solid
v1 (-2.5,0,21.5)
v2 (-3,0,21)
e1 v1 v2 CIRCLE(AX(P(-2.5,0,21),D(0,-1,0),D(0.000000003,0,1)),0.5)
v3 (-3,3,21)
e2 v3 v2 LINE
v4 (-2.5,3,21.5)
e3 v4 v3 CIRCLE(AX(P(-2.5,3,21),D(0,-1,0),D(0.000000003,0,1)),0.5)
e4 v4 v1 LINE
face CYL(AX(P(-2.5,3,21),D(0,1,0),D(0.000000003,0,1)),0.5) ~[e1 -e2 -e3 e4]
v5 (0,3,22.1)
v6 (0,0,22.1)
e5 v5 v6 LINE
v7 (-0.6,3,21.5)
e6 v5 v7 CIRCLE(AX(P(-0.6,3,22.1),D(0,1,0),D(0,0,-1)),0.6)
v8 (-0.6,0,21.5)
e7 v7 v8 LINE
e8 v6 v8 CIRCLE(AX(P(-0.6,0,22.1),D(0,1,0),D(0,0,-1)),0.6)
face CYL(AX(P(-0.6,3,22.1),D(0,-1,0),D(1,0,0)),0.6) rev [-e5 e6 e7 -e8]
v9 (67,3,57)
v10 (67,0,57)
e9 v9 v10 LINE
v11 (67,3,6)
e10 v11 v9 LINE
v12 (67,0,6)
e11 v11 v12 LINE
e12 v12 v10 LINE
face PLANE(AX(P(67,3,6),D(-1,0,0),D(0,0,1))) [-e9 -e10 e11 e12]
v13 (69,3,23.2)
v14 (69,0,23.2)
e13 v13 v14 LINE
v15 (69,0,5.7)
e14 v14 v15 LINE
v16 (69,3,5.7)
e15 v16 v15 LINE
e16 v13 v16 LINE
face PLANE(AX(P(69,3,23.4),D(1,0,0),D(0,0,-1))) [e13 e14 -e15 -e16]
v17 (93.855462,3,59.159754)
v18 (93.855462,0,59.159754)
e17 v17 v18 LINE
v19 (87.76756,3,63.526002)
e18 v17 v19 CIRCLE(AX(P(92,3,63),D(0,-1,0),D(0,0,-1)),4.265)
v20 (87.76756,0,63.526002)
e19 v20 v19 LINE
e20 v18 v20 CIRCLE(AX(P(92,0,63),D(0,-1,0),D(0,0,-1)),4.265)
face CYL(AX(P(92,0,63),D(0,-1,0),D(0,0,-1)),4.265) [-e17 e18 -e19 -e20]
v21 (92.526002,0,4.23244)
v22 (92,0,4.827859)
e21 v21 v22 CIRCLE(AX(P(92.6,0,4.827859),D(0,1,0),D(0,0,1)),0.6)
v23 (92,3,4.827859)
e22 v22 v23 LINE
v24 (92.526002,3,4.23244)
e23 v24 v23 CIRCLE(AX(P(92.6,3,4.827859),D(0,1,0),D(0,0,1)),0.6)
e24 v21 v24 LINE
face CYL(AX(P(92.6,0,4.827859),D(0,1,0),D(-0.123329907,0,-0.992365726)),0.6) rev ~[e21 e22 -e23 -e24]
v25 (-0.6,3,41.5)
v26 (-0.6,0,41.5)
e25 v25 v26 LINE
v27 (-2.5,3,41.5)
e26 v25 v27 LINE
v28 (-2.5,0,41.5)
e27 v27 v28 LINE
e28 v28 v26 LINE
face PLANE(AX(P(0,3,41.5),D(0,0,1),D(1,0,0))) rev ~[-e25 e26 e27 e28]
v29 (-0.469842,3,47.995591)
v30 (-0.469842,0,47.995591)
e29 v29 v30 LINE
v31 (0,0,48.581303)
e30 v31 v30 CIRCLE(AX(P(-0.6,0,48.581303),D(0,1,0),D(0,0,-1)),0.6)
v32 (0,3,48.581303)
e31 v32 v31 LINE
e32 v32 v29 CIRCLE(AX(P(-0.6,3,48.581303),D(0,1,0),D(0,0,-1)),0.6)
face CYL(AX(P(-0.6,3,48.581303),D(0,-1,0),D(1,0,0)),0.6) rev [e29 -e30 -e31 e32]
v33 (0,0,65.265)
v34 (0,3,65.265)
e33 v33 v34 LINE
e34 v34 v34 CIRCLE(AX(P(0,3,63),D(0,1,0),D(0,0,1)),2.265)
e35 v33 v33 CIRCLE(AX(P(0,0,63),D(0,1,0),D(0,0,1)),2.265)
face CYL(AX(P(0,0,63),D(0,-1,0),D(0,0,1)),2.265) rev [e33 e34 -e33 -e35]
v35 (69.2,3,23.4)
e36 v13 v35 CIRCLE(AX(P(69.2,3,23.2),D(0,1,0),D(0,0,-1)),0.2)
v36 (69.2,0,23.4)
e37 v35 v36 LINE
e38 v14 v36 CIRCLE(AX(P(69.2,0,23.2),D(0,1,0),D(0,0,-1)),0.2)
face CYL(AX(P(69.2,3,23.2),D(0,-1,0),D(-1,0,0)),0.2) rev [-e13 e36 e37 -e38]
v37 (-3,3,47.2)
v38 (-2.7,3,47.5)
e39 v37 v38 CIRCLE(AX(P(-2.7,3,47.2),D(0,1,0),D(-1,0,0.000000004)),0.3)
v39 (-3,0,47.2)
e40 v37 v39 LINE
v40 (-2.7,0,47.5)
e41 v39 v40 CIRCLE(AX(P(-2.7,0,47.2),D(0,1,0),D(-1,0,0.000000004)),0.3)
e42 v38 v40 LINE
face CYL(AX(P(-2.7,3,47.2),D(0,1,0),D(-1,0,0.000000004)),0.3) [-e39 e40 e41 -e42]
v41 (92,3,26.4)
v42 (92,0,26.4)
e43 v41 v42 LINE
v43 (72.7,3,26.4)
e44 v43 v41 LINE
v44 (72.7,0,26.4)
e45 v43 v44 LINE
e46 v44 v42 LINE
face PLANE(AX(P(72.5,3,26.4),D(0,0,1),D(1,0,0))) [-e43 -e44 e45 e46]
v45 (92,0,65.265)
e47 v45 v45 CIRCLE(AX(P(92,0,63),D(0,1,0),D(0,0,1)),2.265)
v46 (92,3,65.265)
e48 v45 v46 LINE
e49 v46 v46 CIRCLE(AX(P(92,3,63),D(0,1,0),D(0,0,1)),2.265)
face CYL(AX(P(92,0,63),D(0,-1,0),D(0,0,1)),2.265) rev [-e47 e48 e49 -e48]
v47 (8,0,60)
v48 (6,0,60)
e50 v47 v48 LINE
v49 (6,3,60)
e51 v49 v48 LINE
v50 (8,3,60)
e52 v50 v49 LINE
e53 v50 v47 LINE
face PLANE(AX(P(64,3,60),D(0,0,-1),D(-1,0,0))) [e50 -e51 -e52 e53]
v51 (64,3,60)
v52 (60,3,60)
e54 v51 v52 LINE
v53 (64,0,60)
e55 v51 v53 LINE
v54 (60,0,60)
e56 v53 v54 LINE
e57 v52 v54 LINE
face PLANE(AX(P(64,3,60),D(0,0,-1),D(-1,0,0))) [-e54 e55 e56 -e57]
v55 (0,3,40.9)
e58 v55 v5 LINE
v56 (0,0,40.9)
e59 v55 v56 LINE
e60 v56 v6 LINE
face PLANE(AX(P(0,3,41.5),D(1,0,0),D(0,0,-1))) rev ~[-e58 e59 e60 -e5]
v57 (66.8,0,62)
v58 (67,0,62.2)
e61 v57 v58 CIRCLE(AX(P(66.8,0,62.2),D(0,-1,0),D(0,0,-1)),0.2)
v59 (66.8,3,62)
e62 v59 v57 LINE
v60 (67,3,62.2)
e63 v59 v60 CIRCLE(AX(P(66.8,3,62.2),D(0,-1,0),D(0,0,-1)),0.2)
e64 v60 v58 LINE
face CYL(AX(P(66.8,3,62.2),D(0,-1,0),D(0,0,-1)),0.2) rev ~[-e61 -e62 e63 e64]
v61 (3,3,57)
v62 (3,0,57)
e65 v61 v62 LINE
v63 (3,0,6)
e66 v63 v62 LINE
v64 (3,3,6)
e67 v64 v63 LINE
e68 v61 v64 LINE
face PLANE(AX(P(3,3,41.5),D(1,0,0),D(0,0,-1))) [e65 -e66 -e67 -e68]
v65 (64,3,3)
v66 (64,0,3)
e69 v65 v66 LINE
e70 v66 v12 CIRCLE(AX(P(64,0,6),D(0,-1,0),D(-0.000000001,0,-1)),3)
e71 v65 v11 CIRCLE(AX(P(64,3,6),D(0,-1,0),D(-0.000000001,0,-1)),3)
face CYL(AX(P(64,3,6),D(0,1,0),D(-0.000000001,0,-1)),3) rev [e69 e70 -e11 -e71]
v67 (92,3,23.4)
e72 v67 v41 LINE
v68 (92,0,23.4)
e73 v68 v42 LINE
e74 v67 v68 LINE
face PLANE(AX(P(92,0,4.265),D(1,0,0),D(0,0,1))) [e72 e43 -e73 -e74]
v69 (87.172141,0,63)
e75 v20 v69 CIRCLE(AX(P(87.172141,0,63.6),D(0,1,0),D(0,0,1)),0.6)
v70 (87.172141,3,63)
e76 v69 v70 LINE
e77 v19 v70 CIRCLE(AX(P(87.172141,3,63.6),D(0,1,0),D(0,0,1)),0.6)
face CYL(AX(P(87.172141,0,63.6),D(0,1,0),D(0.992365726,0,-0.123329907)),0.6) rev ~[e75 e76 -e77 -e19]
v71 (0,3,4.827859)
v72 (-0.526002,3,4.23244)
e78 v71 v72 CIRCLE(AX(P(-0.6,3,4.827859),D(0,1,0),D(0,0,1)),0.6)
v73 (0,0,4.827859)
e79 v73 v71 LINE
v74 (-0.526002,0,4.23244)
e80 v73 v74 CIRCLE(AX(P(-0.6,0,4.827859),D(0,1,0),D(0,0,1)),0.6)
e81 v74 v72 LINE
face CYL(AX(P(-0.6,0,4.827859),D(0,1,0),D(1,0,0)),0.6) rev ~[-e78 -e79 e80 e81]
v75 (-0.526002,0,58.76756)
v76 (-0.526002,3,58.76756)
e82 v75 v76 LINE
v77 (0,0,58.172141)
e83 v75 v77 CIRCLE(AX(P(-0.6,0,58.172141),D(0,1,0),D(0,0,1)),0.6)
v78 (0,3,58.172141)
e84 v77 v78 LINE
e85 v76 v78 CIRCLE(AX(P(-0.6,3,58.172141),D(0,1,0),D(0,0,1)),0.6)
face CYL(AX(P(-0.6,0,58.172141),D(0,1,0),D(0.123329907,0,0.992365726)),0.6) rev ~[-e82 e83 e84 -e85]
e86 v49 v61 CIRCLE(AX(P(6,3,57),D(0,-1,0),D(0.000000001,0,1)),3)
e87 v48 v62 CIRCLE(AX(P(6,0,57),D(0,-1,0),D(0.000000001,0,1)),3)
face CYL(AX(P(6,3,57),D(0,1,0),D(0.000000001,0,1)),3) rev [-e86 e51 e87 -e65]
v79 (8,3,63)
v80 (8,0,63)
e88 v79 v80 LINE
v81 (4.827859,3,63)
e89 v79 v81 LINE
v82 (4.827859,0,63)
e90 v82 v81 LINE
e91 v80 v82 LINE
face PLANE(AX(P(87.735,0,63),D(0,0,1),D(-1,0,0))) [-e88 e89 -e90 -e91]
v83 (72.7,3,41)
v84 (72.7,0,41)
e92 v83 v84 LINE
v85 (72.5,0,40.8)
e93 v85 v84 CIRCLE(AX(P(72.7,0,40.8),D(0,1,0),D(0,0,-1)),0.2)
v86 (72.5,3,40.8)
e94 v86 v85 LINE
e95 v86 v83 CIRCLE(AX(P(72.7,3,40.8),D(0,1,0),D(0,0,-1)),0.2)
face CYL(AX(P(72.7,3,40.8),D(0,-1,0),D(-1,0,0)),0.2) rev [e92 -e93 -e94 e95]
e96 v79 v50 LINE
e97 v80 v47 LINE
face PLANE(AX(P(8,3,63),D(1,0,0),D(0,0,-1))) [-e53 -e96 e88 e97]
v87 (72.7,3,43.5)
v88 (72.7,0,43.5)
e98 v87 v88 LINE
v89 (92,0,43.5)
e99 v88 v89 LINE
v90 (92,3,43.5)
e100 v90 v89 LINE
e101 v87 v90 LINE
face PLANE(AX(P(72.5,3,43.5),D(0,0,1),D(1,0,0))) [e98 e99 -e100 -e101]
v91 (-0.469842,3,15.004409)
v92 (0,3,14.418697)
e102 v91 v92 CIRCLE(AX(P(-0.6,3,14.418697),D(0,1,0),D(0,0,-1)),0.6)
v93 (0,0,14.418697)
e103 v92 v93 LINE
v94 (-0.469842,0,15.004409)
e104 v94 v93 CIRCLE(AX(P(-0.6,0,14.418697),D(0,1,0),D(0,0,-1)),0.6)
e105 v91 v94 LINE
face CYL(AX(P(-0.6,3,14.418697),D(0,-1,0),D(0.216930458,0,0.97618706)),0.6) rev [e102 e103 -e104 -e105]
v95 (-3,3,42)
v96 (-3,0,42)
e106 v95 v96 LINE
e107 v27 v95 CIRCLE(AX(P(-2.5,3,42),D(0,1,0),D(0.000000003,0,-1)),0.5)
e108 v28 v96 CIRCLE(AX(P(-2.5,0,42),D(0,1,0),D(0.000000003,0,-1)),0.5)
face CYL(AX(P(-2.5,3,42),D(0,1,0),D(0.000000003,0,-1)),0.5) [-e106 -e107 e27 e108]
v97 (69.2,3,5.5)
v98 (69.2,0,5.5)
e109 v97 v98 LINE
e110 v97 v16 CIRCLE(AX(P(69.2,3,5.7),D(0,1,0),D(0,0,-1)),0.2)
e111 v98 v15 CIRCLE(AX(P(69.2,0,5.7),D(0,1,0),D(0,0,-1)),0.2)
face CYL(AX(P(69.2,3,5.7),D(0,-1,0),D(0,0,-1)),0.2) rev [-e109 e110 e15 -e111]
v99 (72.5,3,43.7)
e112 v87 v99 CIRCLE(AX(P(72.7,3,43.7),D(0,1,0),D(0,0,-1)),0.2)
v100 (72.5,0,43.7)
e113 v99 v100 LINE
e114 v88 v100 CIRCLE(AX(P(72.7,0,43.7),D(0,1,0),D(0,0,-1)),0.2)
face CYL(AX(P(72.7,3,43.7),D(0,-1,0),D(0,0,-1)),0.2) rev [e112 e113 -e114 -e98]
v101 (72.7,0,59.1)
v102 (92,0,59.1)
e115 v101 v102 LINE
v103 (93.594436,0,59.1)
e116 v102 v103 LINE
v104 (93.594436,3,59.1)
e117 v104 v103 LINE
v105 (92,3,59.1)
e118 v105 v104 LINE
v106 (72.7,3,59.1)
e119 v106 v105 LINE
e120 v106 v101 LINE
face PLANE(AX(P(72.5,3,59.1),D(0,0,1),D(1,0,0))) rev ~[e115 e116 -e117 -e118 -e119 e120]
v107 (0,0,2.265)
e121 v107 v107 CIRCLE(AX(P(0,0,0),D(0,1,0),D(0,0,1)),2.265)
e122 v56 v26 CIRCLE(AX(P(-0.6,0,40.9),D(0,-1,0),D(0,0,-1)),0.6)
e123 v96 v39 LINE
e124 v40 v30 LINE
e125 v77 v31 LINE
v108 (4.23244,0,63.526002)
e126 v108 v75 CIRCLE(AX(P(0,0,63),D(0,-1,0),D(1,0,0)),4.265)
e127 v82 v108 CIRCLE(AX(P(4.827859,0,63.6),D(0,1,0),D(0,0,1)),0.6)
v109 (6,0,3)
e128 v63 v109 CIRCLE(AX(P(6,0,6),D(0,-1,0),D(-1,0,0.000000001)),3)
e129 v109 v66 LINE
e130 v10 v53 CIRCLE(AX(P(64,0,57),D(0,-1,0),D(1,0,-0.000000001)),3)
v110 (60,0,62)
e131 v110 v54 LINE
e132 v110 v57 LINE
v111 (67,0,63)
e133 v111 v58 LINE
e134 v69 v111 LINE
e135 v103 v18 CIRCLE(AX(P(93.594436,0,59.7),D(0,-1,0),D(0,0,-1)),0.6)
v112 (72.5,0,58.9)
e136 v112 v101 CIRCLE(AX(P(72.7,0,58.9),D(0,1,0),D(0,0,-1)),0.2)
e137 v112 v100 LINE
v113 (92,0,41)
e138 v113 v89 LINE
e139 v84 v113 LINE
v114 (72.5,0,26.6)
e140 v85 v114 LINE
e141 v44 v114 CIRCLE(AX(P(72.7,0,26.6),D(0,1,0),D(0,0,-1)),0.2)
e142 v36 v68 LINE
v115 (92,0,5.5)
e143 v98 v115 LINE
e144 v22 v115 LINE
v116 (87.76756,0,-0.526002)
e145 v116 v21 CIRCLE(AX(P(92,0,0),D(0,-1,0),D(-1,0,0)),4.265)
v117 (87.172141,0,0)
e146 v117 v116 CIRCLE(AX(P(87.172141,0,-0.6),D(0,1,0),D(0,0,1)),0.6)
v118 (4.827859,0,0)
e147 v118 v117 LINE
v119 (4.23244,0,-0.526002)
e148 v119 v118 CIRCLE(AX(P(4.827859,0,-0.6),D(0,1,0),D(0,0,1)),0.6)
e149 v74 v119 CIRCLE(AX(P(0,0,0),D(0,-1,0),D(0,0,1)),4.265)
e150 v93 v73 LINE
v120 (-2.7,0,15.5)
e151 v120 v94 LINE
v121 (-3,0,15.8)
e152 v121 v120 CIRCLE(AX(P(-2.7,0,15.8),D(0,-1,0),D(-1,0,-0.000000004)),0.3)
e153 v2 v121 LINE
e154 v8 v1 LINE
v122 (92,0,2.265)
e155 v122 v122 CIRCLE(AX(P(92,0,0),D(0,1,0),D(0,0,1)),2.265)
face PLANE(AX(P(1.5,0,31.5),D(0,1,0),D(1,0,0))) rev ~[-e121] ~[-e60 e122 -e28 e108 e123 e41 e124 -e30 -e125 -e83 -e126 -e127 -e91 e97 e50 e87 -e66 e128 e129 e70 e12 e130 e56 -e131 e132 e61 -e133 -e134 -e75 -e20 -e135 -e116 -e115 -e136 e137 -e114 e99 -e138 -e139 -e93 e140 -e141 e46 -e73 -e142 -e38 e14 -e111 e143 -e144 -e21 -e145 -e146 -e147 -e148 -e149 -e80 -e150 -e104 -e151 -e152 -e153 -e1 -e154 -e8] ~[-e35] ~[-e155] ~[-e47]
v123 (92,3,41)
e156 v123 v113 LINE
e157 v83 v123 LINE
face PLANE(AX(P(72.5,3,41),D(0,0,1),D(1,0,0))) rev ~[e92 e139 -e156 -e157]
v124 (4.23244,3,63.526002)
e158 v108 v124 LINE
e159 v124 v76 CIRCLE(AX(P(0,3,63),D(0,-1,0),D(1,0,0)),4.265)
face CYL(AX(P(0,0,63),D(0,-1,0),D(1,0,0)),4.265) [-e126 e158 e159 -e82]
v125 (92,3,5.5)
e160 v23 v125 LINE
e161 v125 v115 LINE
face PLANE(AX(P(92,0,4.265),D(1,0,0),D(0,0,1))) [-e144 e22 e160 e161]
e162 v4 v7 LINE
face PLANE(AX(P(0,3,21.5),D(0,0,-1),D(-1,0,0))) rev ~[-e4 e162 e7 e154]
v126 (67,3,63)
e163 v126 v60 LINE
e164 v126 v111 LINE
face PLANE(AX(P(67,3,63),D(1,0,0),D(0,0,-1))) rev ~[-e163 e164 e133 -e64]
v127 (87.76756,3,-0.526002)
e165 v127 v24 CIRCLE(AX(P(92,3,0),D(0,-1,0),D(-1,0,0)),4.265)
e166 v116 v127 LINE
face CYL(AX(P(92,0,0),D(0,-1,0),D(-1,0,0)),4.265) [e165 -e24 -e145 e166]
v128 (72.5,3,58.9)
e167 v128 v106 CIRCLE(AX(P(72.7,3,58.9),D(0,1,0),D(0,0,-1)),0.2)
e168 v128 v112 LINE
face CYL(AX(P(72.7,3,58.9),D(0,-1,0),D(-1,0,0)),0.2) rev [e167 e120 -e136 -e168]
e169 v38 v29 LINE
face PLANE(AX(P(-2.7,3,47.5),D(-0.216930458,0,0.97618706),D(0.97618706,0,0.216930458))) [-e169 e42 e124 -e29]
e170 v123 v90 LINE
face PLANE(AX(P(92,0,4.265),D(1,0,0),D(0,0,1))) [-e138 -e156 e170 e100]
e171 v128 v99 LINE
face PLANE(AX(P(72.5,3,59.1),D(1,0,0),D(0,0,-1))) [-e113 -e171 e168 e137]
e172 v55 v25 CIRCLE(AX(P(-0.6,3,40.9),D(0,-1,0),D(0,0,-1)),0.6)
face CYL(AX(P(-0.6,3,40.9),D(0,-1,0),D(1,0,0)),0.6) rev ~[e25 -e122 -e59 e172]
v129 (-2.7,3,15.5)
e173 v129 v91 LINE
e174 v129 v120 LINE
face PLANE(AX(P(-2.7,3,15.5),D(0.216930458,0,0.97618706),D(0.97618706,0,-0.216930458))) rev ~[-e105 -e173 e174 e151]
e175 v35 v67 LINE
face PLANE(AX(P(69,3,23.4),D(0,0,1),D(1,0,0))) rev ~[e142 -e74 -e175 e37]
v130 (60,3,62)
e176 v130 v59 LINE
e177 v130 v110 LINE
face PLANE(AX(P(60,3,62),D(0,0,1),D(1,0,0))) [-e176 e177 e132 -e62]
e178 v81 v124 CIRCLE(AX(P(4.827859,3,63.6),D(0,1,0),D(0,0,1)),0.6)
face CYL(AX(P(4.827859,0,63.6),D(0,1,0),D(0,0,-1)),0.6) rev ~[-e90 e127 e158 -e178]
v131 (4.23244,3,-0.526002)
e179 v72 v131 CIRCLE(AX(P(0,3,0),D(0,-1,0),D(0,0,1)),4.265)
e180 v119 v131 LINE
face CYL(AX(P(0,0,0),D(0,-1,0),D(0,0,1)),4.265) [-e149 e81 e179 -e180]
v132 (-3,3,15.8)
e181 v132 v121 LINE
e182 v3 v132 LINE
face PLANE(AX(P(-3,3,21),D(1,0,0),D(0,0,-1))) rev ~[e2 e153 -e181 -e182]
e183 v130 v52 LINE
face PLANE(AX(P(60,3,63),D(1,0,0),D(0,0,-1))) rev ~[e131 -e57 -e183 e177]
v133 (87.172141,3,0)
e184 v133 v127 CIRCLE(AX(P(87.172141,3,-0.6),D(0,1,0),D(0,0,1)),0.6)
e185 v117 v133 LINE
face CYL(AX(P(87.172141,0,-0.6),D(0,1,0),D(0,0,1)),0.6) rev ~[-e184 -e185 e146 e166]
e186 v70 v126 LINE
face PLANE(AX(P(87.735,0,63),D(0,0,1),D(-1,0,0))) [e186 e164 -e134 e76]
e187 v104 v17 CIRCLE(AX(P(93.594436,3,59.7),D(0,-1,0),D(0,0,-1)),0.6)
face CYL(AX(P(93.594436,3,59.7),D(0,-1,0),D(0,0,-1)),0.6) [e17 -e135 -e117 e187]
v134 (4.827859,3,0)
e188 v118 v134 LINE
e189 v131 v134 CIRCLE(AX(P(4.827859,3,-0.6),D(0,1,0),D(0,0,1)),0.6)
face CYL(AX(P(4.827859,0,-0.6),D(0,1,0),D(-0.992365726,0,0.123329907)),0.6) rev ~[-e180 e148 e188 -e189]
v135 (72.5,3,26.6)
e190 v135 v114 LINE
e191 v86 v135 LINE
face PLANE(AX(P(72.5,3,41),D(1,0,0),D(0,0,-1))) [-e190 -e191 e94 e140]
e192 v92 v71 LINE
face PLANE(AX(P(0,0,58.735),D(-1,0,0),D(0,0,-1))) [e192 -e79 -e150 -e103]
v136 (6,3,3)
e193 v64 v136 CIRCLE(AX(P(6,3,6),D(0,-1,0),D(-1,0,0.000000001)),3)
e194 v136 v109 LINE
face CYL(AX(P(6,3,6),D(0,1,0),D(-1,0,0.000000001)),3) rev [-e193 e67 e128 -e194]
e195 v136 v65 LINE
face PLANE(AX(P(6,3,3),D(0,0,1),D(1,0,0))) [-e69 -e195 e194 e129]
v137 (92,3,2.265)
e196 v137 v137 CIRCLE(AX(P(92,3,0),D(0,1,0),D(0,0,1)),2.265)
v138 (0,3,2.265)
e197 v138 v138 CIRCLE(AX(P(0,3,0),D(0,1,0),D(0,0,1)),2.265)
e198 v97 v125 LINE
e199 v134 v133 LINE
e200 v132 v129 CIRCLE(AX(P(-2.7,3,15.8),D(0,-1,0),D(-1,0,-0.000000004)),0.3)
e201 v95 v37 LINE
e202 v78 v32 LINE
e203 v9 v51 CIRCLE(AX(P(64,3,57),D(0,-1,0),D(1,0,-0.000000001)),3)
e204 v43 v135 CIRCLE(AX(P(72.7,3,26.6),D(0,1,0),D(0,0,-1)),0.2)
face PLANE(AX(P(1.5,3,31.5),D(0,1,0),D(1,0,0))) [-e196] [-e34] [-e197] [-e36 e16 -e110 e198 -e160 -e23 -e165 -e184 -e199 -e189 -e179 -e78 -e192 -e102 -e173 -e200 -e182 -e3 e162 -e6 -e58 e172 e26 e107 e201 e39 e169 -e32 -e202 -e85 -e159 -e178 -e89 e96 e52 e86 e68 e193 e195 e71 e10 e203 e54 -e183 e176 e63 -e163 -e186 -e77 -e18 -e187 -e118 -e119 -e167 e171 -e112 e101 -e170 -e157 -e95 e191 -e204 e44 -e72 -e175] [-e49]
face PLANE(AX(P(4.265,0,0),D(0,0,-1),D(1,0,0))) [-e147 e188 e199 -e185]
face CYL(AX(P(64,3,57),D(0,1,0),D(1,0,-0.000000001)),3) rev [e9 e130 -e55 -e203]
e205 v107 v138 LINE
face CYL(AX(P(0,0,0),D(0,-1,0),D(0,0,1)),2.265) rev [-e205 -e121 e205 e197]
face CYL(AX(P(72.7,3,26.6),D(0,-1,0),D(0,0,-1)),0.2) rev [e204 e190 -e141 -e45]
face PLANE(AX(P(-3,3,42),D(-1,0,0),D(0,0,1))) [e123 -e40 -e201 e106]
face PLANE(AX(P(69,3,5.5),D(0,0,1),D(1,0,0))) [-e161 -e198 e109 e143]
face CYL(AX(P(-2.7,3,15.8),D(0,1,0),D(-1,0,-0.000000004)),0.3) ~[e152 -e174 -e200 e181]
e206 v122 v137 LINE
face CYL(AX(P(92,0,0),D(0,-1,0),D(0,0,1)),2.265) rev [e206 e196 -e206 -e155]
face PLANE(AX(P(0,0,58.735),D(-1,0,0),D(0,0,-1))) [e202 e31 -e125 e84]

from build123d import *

# Parameters (mm, degrees)
SKETCH1_R           = 2.265
BOSS_EXTRUDE1_DEPTH = 3
SKETCH2_W           = 6.5
SKETCH2_H           = 20
CUT_EXTRUDE1_DEPTH  = 3
BOSS_EXTRUDE2_DEPTH = 3
CUT_EXTRUDE2_DEPTH  = 3
SKETCH5_W           = 3
SKETCH5_H           = 20
BOSS_EXTRUDE3_DEPTH = 3
SKETCH6_W           = 27.010134686
SKETCH6_H           = 17.9
CUT_EXTRUDE3_DEPTH  = 3
SKETCH7_W           = 19.5
SKETCH7_H           = 14.6
CUT_EXTRUDE4_DEPTH  = 3
SKETCH8_W           = 19.5
SKETCH8_H           = 15.6
CUT_EXTRUDE5_DEPTH  = 3
SKETCH9_W           = 2.019620965
SKETCH9_H           = 0.574286347
CUT_EXTRUDE6_DEPTH  = 3
SKETCH10_W          = 52
SKETCH10_H          = 3
CUT_EXTRUDE7_DEPTH  = 3
SKETCH11_W          = 7
SKETCH11_H          = 1
CUT_EXTRUDE8_DEPTH  = 3
FILLET1_R           = 0.6
FILLET2_R           = 0.2


with BuildPart() as part:
    # Sketch1 → Boss-Extrude1 (new body)
    with BuildSketch(Plane(origin=(0, 0, 0), x_dir=(1, 0, 0), z_dir=(0, 1, 0))):
        with BuildLine():
            Line((4.265, 0), (87.735, 0))
            ThreePointArc((87.735, 0), (95.015810422, 3.015810422), (92, -4.265))
            Line((92, -4.265), (92, -58.735))
            ThreePointArc((92, -58.735), (95.015810422, -66.015810422), (87.735, -63))
            Line((87.735, -63), (4.265, -63))
            ThreePointArc((4.265, -63), (-3.015810422, -66.015810422), (0, -58.735))
            Line((0, -58.735), (0, -4.265))
            ThreePointArc((0, -4.265), (-3.015810422, 3.015810422), (4.265, 0))
        make_face()
        with Locations(Location((0, 0, 0), (0, 0, 270))):
            Circle(SKETCH1_R, mode=Mode.SUBTRACT)
        with Locations(Location((92, 0, 0), (0, 0, 270))):
            Circle(SKETCH1_R, mode=Mode.SUBTRACT)
        with Locations(Location((92, -63, 0), (0, 0, 270))):
            Circle(SKETCH1_R, mode=Mode.SUBTRACT)
        with Locations(Location((0, -63, 0), (0, 0, 270))):
            Circle(SKETCH1_R, mode=Mode.SUBTRACT)
    extrude(amount=BOSS_EXTRUDE1_DEPTH)

    # Sketch2 → Cut-Extrude1 (cut)
    with BuildSketch(Plane(origin=(0, 3, 0), x_dir=(1, 0, 0), z_dir=(0, 1, 0))):
        with Locations((3.25, -31.5)):
            Rectangle(SKETCH2_W, SKETCH2_H)
    extrude(amount=-CUT_EXTRUDE1_DEPTH, mode=Mode.SUBTRACT)

    # Sketch3 → Boss-Extrude2 (add)
    with BuildSketch(Plane(origin=(0, 3, 0), x_dir=(1, 0, 0), z_dir=(0, 1, 0))):
        with BuildLine():
            Line((-2.7, -15.5), (0, -14.9))
            Line((0, -14.9), (0, -21.5))
            Line((0, -21.5), (-2.5, -21.5))
            ThreePointArc((-2.5, -21.5), (-2.853553391, -21.353553391), (-3, -21))
            Line((-3, -21), (-3, -15.8))
            ThreePointArc((-3, -15.8), (-2.912132034, -15.587867966), (-2.7, -15.5))
        make_face()
        with BuildLine():
            Line((-3, -42), (-3, -47.2))
            ThreePointArc((-3, -47.2), (-2.912132034, -47.412132034), (-2.7, -47.5))
            Line((-2.7, -47.5), (0, -48.1))
            Line((0, -48.1), (0, -41.5))
            Line((0, -41.5), (-2.5, -41.5))
            ThreePointArc((-2.5, -41.5), (-2.853553391, -41.646446609), (-3, -42))
        make_face()
    extrude(amount=-BOSS_EXTRUDE2_DEPTH)

    # Sketch4 → Cut-Extrude2 (cut)
    with BuildSketch(Plane(origin=(0, 3, 0), x_dir=(1, 0, 0), z_dir=(0, 1, 0))):
        with BuildLine():
            Line((6, -3), (64, -3))
            ThreePointArc((64, -3), (66.121320344, -3.878679656), (67, -6))
            Line((67, -6), (67, -57))
            ThreePointArc((67, -57), (66.121320344, -59.121320344), (64, -60))
            Line((64, -60), (6, -60))
            ThreePointArc((6, -60), (3.878679656, -59.121320344), (3, -57))
            Line((3, -57), (3, -6))
            ThreePointArc((3, -6), (3.878679656, -3.878679656), (6, -3))
        make_face()
    extrude(amount=-CUT_EXTRUDE2_DEPTH, mode=Mode.SUBTRACT)

    # Sketch5 → Boss-Extrude3 (add)
    with BuildSketch(Plane(origin=(0, 3, 0), x_dir=(1, 0, 0), z_dir=(0, 1, 0))):
        with Locations((1.5, -31.5)):
            Rectangle(SKETCH5_W, SKETCH5_H)
    extrude(amount=-BOSS_EXTRUDE3_DEPTH)

    # Sketch6 → Cut-Extrude3 (cut)
    with BuildSketch(Plane(origin=(0, 3, 0), x_dir=(1, 0, 0), z_dir=(0, 1, 0))):
        with Locations((82.505067343, -14.45)):
            Rectangle(SKETCH6_W, SKETCH6_H)
    extrude(amount=-CUT_EXTRUDE3_DEPTH, mode=Mode.SUBTRACT)

    # Sketch7 → Cut-Extrude4 (cut)
    with BuildSketch(Plane(origin=(0, 3, 0), x_dir=(1, 0, 0), z_dir=(0, 1, 0))):
        with Locations((82.25, -33.7)):
            Rectangle(SKETCH7_W, SKETCH7_H)
    extrude(amount=-CUT_EXTRUDE4_DEPTH, mode=Mode.SUBTRACT)

    # Sketch8 → Cut-Extrude5 (cut)
    with BuildSketch(Plane(origin=(0, 3, 0), x_dir=(1, 0, 0), z_dir=(0, 1, 0))):
        with Locations((82.25, -51.3)):
            Rectangle(SKETCH8_W, SKETCH8_H)
    extrude(amount=-CUT_EXTRUDE5_DEPTH, mode=Mode.SUBTRACT)

    # Sketch9 → Cut-Extrude6 (cut)
    with BuildSketch(Plane(origin=(0, 3, 0), x_dir=(1, 0, 0), z_dir=(0, 1, 0))):
        with Locations((93.009810483, -58.812856827)):
            Rectangle(SKETCH9_W, SKETCH9_H)
    extrude(amount=-CUT_EXTRUDE6_DEPTH, mode=Mode.SUBTRACT)

    # Sketch10 → Cut-Extrude7 (cut)
    with BuildSketch(Plane(origin=(0, 3, 0), x_dir=(1, 0, 0), z_dir=(0, 1, 0))):
        with Locations((34, -61.5)):
            Rectangle(SKETCH10_W, SKETCH10_H)
    extrude(amount=-CUT_EXTRUDE7_DEPTH, mode=Mode.SUBTRACT)

    # Sketch11 → Cut-Extrude8 (cut)
    with BuildSketch(Plane(origin=(0, 3, 0), x_dir=(1, 0, 0), z_dir=(0, 1, 0))):
        with Locations((63.5, -62.5)):
            Rectangle(SKETCH11_W, SKETCH11_H)
    extrude(amount=-CUT_EXTRUDE8_DEPTH, mode=Mode.SUBTRACT)

    # Fillet1
    fillet1_edges = [part.edges().sort_by_distance(p)[0] for p in [
        (0, 1.5, 41.5),
        (92, 1.5, 4.265),
        (0, 1.5, 21.5),
        (87.735, 1.5, 63),
        (4.265, 1.5, 63),
        (0, 1.5, 58.735),
        (0, 1.5, 4.265),
        (4.265, 1.5, 0),
        (87.735, 1.5, 0),
        (93.726332818, 1.5, 59.1),
        (0, 1.5, 14.9),
        (0, 1.5, 48.1),
    ]]
    fillet(fillet1_edges, radius=FILLET1_R)

    # Fillet2
    fillet2_edges = [part.edges().sort_by_distance(p)[0] for p in [
        (69, 1.5, 5.5),
        (69, 1.5, 23.4),
        (72.5, 1.5, 41),
        (72.5, 1.5, 26.4),
        (72.5, 1.5, 59.1),
        (72.5, 1.5, 43.5),
        (67, 1.5, 62),
    ]]
    fillet(fillet2_edges, radius=FILLET2_R)


solid = part.part
